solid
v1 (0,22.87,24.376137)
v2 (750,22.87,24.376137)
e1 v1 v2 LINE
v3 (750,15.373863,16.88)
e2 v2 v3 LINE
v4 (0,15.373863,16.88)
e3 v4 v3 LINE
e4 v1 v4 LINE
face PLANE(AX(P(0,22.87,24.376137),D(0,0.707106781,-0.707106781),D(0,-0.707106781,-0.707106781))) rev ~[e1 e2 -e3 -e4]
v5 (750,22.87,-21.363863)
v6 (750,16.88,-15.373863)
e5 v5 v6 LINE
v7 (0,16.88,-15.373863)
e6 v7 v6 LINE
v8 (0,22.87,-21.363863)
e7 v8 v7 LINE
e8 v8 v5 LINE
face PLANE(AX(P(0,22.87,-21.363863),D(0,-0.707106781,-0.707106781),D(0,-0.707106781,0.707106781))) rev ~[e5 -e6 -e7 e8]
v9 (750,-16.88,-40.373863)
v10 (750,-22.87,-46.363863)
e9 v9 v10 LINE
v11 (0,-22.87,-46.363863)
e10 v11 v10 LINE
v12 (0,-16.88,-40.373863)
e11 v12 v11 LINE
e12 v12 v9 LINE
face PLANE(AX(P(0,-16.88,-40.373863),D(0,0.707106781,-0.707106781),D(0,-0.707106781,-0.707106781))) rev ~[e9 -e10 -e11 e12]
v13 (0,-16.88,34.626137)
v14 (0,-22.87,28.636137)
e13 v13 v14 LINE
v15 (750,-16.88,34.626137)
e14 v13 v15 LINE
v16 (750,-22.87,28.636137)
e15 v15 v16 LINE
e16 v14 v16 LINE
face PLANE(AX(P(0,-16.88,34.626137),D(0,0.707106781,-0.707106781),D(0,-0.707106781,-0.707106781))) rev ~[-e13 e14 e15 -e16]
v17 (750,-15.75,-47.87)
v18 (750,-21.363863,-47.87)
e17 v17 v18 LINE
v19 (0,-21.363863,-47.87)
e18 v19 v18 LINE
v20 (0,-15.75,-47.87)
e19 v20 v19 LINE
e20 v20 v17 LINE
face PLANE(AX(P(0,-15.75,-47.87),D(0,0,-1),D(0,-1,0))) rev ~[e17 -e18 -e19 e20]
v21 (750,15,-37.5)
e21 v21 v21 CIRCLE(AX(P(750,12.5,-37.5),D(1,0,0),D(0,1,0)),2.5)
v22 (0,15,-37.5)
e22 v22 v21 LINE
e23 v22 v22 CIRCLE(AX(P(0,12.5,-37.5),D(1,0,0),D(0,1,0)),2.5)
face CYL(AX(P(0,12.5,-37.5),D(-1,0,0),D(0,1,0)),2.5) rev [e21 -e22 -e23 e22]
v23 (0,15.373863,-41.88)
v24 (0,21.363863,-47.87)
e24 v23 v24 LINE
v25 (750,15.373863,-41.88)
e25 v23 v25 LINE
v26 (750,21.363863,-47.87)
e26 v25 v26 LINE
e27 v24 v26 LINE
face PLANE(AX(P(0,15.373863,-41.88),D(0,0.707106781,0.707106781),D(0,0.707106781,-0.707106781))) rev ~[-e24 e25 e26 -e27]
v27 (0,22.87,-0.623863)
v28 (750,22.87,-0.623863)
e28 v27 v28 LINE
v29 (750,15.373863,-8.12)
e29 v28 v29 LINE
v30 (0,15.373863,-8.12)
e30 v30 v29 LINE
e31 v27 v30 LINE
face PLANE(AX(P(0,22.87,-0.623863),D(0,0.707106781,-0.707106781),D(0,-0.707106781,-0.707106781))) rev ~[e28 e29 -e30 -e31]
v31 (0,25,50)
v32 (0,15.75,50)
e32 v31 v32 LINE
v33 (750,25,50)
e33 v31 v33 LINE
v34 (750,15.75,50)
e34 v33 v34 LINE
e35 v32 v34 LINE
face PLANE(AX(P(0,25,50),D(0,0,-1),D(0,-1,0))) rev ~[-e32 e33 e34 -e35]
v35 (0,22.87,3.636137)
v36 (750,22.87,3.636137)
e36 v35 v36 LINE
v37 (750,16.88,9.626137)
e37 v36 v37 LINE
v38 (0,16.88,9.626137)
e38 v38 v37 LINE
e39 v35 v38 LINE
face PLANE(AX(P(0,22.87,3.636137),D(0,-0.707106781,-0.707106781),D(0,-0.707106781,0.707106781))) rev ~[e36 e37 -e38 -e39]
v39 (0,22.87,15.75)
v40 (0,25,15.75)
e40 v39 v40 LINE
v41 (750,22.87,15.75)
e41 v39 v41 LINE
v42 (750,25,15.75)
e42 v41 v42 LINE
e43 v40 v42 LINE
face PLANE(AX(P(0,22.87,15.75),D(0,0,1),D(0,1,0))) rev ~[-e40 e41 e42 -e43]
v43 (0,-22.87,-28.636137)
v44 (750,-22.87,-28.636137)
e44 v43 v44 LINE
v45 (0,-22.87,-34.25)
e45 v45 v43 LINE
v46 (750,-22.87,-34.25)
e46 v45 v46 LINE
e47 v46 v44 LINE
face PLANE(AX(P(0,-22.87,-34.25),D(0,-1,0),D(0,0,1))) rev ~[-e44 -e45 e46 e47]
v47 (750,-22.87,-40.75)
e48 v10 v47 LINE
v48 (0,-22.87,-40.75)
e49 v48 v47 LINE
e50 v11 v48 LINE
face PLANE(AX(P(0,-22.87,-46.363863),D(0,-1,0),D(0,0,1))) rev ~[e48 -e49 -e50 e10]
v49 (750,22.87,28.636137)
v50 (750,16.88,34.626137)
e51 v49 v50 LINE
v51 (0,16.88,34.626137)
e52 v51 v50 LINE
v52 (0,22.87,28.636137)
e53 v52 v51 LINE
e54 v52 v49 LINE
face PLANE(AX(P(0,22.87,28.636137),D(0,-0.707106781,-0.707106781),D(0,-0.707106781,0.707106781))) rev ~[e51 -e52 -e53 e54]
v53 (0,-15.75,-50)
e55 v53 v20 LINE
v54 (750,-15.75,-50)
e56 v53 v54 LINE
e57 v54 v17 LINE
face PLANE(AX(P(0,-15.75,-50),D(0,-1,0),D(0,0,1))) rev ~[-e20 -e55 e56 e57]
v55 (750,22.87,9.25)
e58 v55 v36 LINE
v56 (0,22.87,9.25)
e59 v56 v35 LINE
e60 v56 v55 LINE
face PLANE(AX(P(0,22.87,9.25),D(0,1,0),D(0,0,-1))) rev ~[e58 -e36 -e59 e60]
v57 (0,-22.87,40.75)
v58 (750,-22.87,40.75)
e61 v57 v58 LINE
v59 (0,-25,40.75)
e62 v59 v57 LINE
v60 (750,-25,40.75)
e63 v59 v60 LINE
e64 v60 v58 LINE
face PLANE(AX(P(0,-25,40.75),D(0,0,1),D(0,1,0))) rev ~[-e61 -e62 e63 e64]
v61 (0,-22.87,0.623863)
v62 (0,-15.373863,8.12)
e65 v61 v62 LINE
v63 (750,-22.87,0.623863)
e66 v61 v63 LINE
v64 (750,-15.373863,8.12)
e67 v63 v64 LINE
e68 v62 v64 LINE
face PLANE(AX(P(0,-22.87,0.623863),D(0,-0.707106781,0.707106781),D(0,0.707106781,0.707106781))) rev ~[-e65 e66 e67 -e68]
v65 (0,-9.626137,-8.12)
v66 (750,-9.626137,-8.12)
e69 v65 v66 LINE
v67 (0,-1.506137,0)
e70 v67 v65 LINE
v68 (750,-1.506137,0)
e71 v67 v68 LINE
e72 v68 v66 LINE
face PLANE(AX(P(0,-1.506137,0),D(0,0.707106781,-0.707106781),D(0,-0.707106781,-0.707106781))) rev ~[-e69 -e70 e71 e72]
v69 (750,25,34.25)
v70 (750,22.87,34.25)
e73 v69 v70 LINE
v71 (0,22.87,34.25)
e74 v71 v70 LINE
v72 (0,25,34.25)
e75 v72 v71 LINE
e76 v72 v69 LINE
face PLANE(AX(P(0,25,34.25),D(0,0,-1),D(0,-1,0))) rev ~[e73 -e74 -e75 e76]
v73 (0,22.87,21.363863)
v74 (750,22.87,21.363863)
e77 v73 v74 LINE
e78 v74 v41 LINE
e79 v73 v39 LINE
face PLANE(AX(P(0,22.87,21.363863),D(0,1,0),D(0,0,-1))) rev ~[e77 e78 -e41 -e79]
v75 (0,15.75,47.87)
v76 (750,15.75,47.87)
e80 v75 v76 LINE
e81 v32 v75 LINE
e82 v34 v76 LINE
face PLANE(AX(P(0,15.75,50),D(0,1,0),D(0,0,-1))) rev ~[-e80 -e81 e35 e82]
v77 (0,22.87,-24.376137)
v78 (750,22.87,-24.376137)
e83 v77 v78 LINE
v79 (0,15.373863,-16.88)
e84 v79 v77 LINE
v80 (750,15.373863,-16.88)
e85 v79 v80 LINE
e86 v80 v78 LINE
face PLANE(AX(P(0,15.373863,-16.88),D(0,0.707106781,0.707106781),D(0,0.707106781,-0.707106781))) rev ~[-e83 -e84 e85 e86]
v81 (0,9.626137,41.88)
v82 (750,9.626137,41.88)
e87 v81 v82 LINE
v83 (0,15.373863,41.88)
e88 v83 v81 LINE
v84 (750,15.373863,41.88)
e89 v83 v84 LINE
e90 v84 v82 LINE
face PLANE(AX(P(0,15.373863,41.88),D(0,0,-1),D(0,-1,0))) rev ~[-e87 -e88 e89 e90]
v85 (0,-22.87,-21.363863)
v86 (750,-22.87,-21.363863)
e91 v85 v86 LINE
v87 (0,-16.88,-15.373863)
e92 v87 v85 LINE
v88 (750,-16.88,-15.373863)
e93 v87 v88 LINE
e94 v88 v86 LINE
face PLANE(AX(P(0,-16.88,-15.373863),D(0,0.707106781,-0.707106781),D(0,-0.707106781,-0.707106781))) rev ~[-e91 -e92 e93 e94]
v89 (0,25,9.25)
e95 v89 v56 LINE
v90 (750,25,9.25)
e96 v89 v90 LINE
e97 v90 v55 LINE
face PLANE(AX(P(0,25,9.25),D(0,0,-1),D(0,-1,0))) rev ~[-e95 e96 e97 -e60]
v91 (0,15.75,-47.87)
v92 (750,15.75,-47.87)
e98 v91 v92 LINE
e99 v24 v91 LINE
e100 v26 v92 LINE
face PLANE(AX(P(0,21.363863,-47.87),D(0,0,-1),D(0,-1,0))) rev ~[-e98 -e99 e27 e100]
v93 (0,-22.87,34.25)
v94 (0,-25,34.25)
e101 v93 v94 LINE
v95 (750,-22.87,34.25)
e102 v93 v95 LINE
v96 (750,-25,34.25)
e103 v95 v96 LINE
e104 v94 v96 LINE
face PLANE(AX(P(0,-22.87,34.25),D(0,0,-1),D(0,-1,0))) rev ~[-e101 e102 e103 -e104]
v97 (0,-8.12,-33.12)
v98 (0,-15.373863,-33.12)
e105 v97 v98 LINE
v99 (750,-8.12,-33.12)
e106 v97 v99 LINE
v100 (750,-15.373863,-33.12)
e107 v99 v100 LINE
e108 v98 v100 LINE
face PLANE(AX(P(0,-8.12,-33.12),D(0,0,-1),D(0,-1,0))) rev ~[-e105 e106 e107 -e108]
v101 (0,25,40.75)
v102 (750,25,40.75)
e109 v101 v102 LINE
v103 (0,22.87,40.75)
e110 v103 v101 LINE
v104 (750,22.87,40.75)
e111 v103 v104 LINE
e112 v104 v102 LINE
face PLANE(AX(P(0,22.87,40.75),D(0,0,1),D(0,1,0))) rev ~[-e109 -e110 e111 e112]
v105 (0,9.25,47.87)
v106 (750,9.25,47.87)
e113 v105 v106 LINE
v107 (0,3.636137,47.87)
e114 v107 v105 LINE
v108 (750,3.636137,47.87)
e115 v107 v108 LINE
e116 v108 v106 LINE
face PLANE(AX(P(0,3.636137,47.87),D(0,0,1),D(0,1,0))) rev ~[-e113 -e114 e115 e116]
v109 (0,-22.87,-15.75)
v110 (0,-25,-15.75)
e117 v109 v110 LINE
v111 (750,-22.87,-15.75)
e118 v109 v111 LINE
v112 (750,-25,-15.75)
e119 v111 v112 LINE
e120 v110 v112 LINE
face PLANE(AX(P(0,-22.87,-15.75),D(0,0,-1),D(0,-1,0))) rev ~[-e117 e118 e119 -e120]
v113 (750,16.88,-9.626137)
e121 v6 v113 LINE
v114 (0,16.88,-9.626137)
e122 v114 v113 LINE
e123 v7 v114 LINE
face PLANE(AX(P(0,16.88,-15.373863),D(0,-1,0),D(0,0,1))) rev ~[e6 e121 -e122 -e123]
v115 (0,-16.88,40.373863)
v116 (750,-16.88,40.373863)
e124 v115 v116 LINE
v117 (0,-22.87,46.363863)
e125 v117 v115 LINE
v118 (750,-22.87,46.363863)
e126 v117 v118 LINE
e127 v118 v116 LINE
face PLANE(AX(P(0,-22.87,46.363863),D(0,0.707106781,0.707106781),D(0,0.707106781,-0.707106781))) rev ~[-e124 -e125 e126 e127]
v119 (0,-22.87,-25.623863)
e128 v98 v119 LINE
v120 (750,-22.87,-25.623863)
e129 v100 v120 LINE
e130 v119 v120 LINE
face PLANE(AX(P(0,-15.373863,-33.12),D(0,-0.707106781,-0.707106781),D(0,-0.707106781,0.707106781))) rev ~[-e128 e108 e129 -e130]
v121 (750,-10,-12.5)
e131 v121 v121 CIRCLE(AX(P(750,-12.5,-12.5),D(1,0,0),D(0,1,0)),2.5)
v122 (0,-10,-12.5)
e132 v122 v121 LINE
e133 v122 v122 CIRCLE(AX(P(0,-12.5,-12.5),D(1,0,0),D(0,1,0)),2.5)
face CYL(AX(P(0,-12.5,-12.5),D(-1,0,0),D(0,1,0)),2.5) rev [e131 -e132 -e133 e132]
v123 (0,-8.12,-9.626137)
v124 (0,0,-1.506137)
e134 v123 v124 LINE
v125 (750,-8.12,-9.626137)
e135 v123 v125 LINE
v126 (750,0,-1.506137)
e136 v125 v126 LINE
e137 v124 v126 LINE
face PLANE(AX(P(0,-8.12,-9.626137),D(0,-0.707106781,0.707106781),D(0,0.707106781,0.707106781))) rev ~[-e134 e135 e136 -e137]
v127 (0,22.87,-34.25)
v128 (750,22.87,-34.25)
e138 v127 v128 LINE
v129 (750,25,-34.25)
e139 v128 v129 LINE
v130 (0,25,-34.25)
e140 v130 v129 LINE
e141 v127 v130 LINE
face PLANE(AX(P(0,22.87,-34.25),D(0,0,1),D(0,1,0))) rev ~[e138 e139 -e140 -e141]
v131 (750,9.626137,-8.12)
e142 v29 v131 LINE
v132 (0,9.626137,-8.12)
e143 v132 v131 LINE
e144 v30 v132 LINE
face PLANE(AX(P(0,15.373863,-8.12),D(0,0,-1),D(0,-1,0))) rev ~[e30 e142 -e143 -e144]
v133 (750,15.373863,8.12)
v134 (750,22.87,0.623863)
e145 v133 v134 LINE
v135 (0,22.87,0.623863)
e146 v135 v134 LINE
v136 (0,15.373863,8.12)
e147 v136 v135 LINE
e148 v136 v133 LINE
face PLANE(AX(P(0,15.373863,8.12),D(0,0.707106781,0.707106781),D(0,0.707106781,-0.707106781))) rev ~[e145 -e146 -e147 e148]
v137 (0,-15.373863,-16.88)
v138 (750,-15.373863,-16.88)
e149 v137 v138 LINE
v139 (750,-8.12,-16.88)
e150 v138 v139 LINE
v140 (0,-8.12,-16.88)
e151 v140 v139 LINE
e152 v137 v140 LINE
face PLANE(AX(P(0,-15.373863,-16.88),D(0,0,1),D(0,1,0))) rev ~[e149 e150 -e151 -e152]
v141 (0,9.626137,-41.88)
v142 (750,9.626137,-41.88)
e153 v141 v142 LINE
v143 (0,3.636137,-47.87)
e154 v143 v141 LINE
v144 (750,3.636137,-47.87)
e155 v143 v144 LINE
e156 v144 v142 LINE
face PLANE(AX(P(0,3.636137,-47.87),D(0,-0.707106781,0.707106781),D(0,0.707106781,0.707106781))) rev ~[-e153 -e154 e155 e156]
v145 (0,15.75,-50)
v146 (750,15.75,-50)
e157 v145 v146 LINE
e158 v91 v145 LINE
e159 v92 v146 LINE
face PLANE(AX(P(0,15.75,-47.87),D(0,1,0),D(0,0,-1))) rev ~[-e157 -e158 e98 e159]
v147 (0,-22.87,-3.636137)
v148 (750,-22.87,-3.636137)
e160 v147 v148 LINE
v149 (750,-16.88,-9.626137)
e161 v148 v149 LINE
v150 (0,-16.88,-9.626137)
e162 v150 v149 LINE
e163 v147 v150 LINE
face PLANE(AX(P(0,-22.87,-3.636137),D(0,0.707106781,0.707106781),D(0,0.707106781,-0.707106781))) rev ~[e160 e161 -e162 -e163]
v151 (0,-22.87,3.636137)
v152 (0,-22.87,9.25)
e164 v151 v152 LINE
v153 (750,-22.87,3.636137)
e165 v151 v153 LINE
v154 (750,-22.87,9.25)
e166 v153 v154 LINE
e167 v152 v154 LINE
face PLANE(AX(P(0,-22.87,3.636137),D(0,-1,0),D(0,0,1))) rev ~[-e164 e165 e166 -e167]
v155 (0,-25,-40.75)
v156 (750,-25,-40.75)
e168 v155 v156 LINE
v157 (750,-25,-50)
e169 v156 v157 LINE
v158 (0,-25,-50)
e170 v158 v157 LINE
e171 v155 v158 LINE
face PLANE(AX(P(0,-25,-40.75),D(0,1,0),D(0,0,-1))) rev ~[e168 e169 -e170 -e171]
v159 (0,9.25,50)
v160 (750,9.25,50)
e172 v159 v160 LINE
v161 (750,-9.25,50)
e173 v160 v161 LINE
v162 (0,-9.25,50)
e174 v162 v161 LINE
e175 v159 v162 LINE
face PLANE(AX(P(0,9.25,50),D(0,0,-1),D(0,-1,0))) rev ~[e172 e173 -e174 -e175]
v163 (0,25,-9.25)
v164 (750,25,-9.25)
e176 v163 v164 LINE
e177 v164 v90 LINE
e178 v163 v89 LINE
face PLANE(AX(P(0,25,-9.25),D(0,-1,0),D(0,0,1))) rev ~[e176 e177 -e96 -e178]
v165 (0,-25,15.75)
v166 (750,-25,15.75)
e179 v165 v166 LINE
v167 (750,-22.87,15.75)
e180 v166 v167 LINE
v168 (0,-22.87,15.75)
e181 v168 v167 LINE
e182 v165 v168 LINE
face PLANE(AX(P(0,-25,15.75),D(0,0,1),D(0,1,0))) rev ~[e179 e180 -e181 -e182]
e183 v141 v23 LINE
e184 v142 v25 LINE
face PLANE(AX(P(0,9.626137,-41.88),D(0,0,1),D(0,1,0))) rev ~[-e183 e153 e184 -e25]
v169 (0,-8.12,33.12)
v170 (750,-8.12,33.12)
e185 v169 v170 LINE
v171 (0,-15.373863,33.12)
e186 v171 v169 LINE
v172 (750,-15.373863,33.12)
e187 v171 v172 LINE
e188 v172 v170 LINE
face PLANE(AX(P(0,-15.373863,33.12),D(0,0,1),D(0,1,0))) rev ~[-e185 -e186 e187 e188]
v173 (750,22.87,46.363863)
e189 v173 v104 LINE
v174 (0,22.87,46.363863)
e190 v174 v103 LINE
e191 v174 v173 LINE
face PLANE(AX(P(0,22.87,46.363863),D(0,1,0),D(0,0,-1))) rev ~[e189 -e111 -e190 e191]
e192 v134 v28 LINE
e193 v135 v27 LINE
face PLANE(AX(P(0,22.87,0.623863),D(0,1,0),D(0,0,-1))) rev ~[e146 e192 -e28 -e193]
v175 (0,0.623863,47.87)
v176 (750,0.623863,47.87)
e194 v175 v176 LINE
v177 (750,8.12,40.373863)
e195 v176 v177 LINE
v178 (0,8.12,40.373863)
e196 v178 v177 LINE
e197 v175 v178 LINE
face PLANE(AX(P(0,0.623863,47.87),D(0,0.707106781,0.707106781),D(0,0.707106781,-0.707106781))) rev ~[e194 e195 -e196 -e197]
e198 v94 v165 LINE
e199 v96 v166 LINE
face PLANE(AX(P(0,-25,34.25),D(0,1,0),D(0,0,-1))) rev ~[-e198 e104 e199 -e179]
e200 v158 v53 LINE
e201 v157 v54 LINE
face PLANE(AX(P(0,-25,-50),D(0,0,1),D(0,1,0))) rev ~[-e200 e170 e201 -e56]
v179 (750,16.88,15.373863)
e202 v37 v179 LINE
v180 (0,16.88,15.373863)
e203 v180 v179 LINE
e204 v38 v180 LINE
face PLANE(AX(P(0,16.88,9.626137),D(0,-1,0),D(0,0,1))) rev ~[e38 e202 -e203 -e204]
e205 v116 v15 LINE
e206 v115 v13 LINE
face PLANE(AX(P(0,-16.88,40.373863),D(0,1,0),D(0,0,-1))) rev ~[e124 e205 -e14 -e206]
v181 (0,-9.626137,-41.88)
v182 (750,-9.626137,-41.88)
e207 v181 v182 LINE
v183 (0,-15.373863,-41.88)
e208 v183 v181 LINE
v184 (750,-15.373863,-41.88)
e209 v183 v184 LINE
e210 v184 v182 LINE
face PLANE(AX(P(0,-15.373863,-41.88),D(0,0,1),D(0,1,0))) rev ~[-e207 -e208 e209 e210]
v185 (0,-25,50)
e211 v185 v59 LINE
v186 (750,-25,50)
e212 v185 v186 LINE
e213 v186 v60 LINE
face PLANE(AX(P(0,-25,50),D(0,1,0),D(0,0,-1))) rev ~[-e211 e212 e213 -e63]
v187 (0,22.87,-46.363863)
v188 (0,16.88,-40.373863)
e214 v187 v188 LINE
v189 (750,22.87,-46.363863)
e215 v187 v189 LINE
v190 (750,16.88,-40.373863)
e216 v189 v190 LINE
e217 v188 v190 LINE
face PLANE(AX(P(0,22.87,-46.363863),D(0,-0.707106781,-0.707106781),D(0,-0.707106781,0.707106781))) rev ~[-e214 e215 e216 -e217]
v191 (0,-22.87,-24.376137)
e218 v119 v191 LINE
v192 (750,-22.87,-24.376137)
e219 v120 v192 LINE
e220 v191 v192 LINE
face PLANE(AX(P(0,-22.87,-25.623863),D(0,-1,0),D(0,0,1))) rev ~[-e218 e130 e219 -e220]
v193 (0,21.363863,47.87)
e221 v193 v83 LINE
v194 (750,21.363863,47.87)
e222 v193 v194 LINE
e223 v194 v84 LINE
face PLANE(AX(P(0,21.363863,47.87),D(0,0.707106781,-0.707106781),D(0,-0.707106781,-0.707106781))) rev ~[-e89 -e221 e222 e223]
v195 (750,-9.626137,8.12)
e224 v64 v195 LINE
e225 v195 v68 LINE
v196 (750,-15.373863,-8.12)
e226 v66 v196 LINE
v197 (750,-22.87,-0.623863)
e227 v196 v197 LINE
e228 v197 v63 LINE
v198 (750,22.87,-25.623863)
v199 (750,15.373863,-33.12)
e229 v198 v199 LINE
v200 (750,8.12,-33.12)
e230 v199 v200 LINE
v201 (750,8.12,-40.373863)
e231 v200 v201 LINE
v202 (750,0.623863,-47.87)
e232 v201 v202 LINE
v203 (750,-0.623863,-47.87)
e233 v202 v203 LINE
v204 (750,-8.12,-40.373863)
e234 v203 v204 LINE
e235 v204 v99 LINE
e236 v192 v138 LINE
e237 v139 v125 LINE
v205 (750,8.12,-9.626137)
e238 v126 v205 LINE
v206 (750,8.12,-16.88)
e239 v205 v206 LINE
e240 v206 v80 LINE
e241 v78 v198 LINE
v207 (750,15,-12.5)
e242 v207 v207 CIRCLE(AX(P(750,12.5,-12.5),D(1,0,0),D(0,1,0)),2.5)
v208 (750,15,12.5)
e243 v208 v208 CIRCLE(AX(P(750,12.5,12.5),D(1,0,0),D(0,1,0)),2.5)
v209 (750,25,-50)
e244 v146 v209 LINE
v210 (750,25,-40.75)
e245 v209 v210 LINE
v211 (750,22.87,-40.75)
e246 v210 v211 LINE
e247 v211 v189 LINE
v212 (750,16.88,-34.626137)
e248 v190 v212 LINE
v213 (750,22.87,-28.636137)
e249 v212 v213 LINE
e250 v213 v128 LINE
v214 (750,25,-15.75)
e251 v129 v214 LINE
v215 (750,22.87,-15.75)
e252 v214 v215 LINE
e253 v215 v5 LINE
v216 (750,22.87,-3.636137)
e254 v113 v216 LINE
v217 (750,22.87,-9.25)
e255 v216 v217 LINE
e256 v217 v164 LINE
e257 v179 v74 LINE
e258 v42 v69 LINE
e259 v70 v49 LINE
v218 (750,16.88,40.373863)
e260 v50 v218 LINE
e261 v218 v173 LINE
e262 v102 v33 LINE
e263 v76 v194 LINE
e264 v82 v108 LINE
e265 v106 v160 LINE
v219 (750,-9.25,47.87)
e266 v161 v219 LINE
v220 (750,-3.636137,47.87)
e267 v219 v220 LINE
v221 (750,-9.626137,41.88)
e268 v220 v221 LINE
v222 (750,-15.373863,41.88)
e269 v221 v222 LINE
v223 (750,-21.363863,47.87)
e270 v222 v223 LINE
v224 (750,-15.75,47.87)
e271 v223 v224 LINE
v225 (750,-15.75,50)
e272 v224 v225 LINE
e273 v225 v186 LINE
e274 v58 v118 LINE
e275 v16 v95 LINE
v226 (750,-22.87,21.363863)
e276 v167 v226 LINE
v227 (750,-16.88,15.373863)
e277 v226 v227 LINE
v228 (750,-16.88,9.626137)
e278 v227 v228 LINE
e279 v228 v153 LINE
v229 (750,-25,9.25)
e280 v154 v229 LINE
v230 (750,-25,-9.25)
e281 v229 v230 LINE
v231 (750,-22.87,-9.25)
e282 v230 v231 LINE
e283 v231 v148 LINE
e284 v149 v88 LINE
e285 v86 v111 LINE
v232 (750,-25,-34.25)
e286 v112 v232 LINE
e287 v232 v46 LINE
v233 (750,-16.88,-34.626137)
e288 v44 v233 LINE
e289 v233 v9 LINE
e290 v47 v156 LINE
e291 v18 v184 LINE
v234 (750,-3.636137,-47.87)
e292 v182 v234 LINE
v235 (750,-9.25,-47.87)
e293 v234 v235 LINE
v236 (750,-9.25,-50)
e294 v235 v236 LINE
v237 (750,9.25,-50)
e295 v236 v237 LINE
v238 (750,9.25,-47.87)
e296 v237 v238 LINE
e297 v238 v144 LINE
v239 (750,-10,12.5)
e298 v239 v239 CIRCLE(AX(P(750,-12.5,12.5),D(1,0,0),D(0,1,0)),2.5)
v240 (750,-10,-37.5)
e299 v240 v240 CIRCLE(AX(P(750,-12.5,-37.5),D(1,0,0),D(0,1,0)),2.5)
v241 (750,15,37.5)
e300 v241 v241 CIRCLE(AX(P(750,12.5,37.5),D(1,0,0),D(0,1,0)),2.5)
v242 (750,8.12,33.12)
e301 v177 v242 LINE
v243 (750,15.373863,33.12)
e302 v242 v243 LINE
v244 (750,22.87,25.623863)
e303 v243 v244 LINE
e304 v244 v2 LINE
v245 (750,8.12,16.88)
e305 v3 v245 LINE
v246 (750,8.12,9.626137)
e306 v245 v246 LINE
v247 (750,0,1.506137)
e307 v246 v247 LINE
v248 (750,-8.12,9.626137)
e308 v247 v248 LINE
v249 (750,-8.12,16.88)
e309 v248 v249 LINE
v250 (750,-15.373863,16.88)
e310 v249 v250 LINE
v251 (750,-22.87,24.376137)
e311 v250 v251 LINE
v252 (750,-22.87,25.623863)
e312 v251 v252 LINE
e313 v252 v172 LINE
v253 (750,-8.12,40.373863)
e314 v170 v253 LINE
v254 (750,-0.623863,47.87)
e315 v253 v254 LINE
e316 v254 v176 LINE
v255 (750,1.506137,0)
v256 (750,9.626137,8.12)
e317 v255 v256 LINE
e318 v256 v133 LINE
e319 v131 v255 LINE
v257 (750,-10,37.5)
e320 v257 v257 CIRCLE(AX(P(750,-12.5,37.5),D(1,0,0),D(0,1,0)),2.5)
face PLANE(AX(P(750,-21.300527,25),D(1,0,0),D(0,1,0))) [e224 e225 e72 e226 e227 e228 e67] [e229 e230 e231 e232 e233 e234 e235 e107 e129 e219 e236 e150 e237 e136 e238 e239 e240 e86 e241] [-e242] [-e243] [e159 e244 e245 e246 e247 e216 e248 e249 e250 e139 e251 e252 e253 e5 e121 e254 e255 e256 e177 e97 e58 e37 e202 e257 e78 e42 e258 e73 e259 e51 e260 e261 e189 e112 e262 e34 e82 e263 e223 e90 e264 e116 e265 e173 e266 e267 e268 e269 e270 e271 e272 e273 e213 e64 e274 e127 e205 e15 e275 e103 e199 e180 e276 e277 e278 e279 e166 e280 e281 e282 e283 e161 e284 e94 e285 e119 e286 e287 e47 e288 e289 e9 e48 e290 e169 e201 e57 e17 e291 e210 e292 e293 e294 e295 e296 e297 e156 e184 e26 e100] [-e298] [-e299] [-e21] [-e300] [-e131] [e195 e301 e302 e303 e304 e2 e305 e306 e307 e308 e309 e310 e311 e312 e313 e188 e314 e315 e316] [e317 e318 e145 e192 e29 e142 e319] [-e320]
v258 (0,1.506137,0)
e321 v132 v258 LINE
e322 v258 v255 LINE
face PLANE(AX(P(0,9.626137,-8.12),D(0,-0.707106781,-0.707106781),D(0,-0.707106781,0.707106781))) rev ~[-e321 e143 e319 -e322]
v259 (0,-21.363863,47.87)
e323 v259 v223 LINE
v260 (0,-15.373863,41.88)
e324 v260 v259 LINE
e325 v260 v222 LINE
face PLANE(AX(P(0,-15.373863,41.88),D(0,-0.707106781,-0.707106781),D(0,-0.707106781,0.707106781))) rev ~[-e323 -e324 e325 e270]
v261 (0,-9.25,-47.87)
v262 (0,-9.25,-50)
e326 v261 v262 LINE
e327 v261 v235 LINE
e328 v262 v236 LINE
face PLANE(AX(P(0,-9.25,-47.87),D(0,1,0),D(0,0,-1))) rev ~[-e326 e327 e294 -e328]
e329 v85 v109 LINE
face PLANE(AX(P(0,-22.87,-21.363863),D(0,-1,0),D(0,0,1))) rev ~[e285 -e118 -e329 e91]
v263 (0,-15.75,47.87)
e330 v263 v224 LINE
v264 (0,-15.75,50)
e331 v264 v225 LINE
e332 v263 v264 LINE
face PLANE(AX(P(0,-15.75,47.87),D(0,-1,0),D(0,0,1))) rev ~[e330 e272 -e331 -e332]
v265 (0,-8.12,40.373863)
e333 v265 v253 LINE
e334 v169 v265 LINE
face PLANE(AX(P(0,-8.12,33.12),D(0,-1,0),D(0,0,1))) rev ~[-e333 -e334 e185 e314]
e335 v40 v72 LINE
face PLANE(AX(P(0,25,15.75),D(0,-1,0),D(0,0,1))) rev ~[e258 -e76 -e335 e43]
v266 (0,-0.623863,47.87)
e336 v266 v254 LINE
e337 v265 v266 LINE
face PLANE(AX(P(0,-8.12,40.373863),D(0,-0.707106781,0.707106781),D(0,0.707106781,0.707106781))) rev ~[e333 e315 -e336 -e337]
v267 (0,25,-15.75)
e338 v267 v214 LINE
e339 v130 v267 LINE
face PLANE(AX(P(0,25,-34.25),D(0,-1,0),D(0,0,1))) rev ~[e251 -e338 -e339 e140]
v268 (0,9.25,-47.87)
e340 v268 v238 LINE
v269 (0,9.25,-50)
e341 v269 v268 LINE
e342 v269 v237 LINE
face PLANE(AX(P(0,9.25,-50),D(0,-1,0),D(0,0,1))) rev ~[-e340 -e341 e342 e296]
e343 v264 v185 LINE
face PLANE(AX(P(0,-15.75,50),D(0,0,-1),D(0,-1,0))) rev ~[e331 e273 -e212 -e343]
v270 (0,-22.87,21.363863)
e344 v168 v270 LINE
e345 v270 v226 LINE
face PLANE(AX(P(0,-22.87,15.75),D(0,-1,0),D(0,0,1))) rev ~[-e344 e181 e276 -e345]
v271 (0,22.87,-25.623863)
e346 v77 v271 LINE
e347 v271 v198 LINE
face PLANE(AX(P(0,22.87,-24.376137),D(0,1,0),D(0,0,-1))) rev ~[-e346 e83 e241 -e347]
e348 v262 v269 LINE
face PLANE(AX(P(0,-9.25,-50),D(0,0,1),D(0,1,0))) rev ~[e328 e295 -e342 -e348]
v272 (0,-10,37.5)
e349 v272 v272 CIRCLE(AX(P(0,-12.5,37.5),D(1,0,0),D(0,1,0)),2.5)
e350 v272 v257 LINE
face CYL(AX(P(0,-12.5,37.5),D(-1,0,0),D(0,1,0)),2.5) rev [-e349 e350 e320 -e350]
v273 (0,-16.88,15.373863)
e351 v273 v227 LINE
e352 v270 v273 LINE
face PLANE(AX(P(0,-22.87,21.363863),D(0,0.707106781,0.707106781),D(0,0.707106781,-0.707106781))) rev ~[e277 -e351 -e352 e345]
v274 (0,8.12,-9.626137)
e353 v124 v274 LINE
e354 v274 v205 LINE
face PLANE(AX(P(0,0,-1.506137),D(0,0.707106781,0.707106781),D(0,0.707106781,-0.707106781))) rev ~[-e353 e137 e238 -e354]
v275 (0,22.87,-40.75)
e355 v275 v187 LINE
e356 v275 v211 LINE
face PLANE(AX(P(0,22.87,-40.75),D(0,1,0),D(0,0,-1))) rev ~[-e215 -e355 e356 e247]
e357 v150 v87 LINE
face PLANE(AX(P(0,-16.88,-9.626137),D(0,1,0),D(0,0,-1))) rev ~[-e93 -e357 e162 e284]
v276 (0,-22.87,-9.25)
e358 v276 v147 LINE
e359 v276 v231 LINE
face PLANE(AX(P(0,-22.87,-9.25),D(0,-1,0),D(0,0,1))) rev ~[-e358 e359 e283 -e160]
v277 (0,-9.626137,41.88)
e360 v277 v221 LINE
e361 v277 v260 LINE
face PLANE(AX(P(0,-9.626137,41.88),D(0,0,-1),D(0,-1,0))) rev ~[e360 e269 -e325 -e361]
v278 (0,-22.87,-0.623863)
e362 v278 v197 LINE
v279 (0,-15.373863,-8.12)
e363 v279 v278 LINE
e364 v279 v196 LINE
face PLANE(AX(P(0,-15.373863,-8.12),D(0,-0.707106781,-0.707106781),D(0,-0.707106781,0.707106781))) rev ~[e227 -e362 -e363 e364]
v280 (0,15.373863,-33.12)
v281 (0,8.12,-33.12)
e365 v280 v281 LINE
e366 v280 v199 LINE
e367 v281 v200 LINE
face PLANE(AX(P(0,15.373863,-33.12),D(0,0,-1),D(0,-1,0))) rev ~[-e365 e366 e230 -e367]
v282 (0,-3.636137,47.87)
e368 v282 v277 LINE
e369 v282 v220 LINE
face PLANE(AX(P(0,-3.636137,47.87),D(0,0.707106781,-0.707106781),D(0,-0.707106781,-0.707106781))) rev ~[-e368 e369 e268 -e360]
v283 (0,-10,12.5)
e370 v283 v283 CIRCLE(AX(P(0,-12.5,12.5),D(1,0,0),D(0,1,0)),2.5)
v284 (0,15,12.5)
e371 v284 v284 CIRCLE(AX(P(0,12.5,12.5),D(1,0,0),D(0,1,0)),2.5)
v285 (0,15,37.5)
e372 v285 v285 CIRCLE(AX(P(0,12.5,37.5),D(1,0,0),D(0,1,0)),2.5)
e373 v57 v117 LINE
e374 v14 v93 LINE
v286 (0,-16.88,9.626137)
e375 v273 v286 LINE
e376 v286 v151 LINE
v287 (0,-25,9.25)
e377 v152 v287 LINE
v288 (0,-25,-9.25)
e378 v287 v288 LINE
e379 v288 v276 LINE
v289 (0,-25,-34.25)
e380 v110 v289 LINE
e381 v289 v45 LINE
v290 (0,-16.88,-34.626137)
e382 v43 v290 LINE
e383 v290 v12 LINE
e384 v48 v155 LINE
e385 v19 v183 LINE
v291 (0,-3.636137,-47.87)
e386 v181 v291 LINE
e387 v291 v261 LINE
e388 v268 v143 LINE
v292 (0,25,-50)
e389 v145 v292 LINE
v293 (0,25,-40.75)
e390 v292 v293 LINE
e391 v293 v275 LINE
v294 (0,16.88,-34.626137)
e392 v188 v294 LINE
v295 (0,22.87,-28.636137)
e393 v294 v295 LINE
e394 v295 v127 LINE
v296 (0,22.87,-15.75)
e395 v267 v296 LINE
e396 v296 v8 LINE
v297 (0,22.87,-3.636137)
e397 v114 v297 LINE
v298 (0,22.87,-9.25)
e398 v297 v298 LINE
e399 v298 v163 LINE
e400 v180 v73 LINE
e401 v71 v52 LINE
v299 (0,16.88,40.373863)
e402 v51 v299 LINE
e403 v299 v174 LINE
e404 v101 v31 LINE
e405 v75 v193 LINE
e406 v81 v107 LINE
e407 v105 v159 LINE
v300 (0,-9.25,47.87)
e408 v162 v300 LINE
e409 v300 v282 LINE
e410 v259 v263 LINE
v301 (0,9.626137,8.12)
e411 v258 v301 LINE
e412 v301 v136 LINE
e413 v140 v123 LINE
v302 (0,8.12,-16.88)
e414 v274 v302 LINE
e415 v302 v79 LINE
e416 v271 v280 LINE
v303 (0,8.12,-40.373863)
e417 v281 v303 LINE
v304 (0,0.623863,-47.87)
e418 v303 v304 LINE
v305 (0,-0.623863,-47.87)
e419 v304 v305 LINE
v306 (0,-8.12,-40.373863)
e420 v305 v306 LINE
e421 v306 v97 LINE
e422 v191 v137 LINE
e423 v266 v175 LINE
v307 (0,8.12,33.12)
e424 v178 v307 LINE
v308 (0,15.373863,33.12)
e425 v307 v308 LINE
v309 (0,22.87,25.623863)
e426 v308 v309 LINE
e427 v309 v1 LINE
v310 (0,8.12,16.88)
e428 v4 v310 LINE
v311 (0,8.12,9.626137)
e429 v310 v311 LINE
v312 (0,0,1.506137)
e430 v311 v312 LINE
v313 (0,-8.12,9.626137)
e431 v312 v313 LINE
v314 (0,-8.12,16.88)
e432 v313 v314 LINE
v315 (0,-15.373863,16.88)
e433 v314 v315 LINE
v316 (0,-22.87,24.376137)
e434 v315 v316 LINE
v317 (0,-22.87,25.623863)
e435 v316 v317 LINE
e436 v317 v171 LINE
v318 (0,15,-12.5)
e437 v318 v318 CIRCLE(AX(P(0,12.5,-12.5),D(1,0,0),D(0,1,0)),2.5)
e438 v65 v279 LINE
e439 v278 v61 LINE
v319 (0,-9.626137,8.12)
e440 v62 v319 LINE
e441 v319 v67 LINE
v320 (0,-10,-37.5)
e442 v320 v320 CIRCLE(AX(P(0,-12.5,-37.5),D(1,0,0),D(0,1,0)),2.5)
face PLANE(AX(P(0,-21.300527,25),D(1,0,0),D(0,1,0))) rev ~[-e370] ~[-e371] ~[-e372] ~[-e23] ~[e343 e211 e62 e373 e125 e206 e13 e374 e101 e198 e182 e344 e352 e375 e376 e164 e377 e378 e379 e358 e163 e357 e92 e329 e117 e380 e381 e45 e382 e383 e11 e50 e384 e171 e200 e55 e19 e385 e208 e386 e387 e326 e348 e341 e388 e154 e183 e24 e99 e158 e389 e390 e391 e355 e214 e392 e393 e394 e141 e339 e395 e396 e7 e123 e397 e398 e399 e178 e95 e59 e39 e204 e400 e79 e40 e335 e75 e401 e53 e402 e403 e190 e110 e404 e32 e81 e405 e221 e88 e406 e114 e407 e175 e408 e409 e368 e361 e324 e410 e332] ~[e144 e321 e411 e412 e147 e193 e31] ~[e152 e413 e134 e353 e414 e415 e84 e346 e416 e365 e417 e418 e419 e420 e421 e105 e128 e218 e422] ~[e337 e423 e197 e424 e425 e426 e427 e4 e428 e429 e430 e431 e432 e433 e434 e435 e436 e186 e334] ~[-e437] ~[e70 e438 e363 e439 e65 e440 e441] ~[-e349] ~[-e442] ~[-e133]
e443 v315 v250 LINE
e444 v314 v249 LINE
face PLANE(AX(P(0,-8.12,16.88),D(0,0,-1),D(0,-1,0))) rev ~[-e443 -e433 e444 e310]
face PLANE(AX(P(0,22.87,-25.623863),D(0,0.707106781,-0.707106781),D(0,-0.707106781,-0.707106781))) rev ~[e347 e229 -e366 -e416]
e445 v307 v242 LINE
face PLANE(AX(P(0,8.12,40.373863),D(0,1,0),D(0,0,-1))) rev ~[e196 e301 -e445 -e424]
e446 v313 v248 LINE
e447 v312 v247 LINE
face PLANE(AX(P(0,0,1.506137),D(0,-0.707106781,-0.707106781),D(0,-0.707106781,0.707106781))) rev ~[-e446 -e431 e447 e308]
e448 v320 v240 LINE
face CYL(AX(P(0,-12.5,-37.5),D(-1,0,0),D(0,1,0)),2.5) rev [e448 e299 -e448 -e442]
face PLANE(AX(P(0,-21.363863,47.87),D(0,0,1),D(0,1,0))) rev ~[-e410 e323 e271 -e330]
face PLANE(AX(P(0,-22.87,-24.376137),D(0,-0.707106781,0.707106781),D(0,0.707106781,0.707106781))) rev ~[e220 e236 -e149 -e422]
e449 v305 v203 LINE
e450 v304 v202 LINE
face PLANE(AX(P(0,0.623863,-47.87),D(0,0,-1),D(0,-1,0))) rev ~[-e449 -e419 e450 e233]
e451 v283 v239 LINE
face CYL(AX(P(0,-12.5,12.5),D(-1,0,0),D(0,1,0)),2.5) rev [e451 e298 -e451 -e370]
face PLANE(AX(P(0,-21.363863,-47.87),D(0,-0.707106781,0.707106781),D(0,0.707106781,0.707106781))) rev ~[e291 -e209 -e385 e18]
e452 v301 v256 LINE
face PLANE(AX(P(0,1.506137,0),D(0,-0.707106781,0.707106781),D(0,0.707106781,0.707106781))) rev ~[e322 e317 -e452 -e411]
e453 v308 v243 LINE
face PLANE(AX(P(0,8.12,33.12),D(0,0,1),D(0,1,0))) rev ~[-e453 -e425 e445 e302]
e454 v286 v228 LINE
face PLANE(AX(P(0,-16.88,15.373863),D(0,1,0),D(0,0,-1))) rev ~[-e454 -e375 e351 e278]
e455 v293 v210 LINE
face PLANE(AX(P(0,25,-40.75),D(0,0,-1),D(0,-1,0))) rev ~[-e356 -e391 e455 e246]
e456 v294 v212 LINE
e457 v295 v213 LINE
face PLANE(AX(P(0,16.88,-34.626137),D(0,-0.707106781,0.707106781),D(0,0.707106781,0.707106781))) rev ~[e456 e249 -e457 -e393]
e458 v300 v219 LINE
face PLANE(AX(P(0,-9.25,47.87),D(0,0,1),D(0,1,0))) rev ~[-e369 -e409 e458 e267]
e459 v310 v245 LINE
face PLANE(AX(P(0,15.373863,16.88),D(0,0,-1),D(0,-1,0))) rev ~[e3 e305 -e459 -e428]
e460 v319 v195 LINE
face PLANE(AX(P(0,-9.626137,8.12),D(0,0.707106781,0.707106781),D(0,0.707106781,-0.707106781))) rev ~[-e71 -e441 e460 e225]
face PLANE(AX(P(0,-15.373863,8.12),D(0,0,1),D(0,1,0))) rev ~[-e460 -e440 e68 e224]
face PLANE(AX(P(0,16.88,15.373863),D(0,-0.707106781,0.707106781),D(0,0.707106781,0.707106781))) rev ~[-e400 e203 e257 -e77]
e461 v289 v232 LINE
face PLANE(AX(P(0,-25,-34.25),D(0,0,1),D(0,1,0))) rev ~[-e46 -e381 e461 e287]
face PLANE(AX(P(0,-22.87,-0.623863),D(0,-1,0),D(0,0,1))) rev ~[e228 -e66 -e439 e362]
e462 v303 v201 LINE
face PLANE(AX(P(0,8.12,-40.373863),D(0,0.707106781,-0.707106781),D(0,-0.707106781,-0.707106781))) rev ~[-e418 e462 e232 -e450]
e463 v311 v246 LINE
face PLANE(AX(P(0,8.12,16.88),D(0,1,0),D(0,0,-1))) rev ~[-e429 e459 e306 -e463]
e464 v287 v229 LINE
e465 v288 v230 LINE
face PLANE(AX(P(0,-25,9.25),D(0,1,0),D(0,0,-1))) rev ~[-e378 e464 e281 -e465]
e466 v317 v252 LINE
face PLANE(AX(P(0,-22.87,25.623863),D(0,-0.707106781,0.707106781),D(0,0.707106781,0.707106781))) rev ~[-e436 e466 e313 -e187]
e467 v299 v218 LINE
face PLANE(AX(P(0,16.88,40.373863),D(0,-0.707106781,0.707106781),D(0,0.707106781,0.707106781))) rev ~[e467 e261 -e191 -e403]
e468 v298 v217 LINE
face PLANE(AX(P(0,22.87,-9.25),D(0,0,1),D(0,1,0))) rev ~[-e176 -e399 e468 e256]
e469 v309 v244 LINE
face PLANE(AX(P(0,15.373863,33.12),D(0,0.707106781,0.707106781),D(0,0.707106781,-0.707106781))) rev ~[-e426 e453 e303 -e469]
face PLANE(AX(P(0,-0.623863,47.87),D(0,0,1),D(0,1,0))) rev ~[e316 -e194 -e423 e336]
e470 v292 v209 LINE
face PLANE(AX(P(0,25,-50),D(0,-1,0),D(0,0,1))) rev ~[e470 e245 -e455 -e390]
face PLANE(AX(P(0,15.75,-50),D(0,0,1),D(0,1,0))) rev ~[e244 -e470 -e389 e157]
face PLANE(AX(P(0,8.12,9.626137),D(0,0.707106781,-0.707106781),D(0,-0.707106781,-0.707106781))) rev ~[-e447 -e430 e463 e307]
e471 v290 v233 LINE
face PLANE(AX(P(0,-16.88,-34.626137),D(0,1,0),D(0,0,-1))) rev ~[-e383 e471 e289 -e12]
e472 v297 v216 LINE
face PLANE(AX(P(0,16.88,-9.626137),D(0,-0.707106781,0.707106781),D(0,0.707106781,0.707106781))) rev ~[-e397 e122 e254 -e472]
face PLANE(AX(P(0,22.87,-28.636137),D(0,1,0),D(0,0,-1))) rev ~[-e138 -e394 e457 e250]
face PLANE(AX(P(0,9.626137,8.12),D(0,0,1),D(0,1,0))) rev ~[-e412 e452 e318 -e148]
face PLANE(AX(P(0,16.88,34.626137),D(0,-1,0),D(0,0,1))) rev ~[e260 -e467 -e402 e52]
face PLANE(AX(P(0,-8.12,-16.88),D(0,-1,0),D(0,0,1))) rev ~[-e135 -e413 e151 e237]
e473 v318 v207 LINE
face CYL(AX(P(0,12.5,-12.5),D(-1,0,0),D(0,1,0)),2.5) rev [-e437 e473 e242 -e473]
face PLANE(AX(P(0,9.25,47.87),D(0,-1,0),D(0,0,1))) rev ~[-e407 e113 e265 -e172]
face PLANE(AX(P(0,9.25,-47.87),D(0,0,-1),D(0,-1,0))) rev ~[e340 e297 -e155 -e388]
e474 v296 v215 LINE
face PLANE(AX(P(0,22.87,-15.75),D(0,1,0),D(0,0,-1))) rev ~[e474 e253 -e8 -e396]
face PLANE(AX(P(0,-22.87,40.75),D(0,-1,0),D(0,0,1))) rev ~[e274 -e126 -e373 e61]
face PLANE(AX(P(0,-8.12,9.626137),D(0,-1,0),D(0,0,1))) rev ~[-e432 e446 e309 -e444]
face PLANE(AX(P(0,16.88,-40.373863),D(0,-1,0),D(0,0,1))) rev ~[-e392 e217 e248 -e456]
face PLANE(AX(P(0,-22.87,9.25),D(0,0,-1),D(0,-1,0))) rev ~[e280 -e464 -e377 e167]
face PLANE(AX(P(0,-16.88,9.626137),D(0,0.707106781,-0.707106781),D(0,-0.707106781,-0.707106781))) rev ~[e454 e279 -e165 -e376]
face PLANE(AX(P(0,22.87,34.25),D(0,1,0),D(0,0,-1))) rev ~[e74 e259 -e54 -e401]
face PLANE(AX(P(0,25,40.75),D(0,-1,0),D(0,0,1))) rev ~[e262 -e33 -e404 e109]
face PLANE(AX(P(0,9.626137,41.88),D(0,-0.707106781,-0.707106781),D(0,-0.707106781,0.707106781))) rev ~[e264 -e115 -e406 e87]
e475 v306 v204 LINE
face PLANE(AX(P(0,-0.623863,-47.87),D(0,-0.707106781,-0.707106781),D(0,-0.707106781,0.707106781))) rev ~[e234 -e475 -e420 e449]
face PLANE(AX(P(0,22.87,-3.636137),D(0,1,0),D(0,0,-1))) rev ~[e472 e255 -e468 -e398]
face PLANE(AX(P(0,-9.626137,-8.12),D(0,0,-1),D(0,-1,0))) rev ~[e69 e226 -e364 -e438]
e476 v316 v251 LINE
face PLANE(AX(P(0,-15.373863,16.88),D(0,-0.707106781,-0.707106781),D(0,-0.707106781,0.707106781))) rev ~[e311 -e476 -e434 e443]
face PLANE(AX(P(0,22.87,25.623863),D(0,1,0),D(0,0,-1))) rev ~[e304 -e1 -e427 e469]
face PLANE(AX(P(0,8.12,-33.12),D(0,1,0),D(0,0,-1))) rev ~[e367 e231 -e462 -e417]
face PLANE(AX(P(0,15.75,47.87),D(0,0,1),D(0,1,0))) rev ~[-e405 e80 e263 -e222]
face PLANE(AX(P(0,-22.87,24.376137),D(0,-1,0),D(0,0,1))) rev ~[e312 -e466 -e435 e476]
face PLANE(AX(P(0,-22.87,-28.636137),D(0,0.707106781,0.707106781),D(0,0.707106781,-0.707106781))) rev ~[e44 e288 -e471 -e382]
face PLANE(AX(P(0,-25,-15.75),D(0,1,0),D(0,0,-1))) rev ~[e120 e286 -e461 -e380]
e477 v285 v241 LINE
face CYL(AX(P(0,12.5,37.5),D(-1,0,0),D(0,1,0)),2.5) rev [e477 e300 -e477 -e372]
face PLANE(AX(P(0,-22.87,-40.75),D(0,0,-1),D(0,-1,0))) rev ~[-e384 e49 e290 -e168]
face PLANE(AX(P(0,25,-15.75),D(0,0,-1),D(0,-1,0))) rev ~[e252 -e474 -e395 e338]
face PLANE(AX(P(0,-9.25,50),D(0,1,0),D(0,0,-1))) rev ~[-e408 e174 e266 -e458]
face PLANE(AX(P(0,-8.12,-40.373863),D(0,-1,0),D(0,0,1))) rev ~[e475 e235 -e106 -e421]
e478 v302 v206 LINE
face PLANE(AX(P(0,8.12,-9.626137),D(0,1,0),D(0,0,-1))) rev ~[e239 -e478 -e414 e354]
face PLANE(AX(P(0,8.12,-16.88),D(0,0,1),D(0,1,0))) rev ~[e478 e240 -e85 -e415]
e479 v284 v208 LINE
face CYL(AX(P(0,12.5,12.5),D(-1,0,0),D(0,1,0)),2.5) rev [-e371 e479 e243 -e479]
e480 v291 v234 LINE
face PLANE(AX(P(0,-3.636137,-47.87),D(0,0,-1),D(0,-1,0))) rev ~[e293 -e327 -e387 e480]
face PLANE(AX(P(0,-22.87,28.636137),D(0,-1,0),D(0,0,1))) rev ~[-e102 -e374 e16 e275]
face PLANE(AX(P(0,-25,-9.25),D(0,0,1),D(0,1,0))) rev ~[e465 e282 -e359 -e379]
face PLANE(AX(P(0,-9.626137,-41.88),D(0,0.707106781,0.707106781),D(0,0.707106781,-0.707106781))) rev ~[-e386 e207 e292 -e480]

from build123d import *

# Parameters (mm, degrees)
F0_R     = 2.5
F1_DEPTH = 750


with BuildPart() as f1:
    # F0 (on Right) → F1 (new body)
    with BuildSketch(Plane.YZ):
        Polygon((-22.87, 25.623863), (-15.373863, 33.12), (-16.88, 33.12), (-16.88, 34.626137), (-22.87, 28.636137), (-22.87, 34.25), (-25, 34.25), (-25, 15.75), (-22.87, 15.75), (-22.87, 21.363863), (-16.88, 15.373863), (-16.88, 16.88), (-15.373863, 16.88), (-22.87, 24.376137), align=None)
        Polygon((-8.12, 40.373863), (-8.12, 41.88), (-9.626137, 41.88), (-15.373863, 41.88), (-16.88, 41.88), (-16.88, 40.373863), (-16.88, 34.626137), (-16.88, 33.12), (-15.373863, 33.12), (-8.12, 33.12), align=None)
        with Locations((-12.5, 37.5)):
            Circle(F0_R, mode=Mode.SUBTRACT)
        Polygon((-16.88, 41.88), (-15.373863, 41.88), (-21.363863, 47.87), (-15.75, 47.87), (-15.75, 50), (-25, 50), (-25, 40.75), (-22.87, 40.75), (-22.87, 46.363863), (-16.88, 40.373863), align=None)
        Polygon((-9.626137, 41.88), (-8.12, 41.88), (-8.12, 40.373863), (-0.623863, 47.87), (0, 47.87), (0.623863, 47.87), (8.12, 40.373863), (8.12, 41.88), (9.626137, 41.88), (3.636137, 47.87), (9.25, 47.87), (9.25, 50), (0, 50), (-9.25, 50), (-9.25, 47.87), (-3.636137, 47.87), align=None)
        Polygon((8.12, 41.88), (8.12, 40.373863), (8.12, 33.12), (15.373863, 33.12), (16.88, 33.12), (16.88, 34.626137), (16.88, 40.373863), (16.88, 41.88), (15.373863, 41.88), (9.626137, 41.88), align=None)
        with Locations((12.5, 37.5)):
            Circle(F0_R, mode=Mode.SUBTRACT)
        Polygon((-0.623863, -47.87), (-8.12, -40.373863), (-8.12, -41.88), (-9.626137, -41.88), (-3.636137, -47.87), (-9.25, -47.87), (-9.25, -50), (0, -50), (9.25, -50), (9.25, -47.87), (3.636137, -47.87), (9.626137, -41.88), (8.12, -41.88), (8.12, -40.373863), (0.623863, -47.87), (0, -47.87), align=None)
        Polygon((15.373863, -8.12), (9.626137, -8.12), (8.12, -8.12), (8.12, -9.626137), (8.12, -16.88), (15.373863, -16.88), (16.88, -16.88), (16.88, -15.373863), (16.88, -9.626137), (16.88, -8.12), align=None)
        with Locations((12.5, -12.5)):
            Circle(F0_R, mode=Mode.SUBTRACT)
        Polygon((16.88, -16.88), (15.373863, -16.88), (22.87, -24.376137), (22.87, -25.623863), (15.373863, -33.12), (16.88, -33.12), (16.88, -34.626137), (22.87, -28.636137), (22.87, -34.25), (25, -34.25), (25, -15.75), (22.87, -15.75), (22.87, -21.363863), (16.88, -15.373863), align=None)
        Polygon((-8.12, 16.88), (-15.373863, 16.88), (-16.88, 16.88), (-16.88, 15.373863), (-16.88, 9.626137), (-16.88, 8.12), (-15.373863, 8.12), (-9.626137, 8.12), (-8.12, 8.12), (-8.12, 9.626137), align=None)
        with Locations((-12.5, 12.5)):
            Circle(F0_R, mode=Mode.SUBTRACT)
        Polygon((8.12, 16.88), (8.12, 9.626137), (8.12, 8.12), (9.626137, 8.12), (15.373863, 8.12), (16.88, 8.12), (16.88, 9.626137), (16.88, 15.373863), (16.88, 16.88), (15.373863, 16.88), align=None)
        with Locations((12.5, 12.5)):
            Circle(F0_R, mode=Mode.SUBTRACT)
        Polygon((-22.87, -24.376137), (-15.373863, -16.88), (-16.88, -16.88), (-16.88, -15.373863), (-22.87, -21.363863), (-22.87, -15.75), (-25, -15.75), (-25, -34.25), (-22.87, -34.25), (-22.87, -28.636137), (-16.88, -34.626137), (-16.88, -33.12), (-15.373863, -33.12), (-22.87, -25.623863), align=None)
        Polygon((-8.12, -8.12), (-9.626137, -8.12), (-15.373863, -8.12), (-16.88, -8.12), (-16.88, -9.626137), (-16.88, -15.373863), (-16.88, -16.88), (-15.373863, -16.88), (-8.12, -16.88), (-8.12, -9.626137), align=None)
        with Locations((-12.5, -12.5)):
            Circle(F0_R, mode=Mode.SUBTRACT)
        Polygon((16.88, 8.12), (15.373863, 8.12), (22.87, 0.623863), (22.87, 0), (22.87, -0.623863), (15.373863, -8.12), (16.88, -8.12), (16.88, -9.626137), (22.87, -3.636137), (22.87, -9.25), (25, -9.25), (25, 0), (25, 9.25), (22.87, 9.25), (22.87, 3.636137), (16.88, 9.626137), align=None)
        Polygon((16.88, 33.12), (15.373863, 33.12), (22.87, 25.623863), (22.87, 24.376137), (15.373863, 16.88), (16.88, 16.88), (16.88, 15.373863), (22.87, 21.363863), (22.87, 15.75), (25, 15.75), (25, 34.25), (22.87, 34.25), (22.87, 28.636137), (16.88, 34.626137), align=None)
        Polygon((-16.88, 8.12), (-16.88, 9.626137), (-22.87, 3.636137), (-22.87, 9.25), (-25, 9.25), (-25, 0), (-25, -9.25), (-22.87, -9.25), (-22.87, -3.636137), (-16.88, -9.626137), (-16.88, -8.12), (-15.373863, -8.12), (-22.87, -0.623863), (-22.87, 0), (-22.87, 0.623863), (-15.373863, 8.12), align=None)
        Polygon((21.363863, 47.87), (15.373863, 41.88), (16.88, 41.88), (16.88, 40.373863), (22.87, 46.363863), (22.87, 40.75), (25, 40.75), (25, 50), (15.75, 50), (15.75, 47.87), align=None)
        Polygon((22.87, -46.363863), (16.88, -40.373863), (16.88, -41.88), (15.373863, -41.88), (21.363863, -47.87), (15.75, -47.87), (15.75, -50), (25, -50), (25, -40.75), (22.87, -40.75), align=None)
        Polygon((-16.88, -41.88), (-16.88, -40.373863), (-22.87, -46.363863), (-22.87, -40.75), (-25, -40.75), (-25, -50), (-15.75, -50), (-15.75, -47.87), (-21.363863, -47.87), (-15.373863, -41.88), align=None)
        Polygon((16.88, -33.12), (15.373863, -33.12), (8.12, -33.12), (8.12, -40.373863), (8.12, -41.88), (9.626137, -41.88), (15.373863, -41.88), (16.88, -41.88), (16.88, -40.373863), (16.88, -34.626137), align=None)
        with Locations((12.5, -37.5)):
            Circle(F0_R, mode=Mode.SUBTRACT)
        Polygon((0, 1.506137), (-8.12, 9.626137), (-8.12, 8.12), (-9.626137, 8.12), (-1.506137, 0), (-9.626137, -8.12), (-8.12, -8.12), (-8.12, -9.626137), (0, -1.506137), (8.12, -9.626137), (8.12, -8.12), (9.626137, -8.12), (1.506137, 0), (9.626137, 8.12), (8.12, 8.12), (8.12, 9.626137), align=None)
        Polygon((-8.12, -33.12), (-15.373863, -33.12), (-16.88, -33.12), (-16.88, -34.626137), (-16.88, -40.373863), (-16.88, -41.88), (-15.373863, -41.88), (-9.626137, -41.88), (-8.12, -41.88), (-8.12, -40.373863), align=None)
        with Locations((-12.5, -37.5)):
            Circle(F0_R, mode=Mode.SUBTRACT)
    extrude(amount=F1_DEPTH)


solid = f1.part
